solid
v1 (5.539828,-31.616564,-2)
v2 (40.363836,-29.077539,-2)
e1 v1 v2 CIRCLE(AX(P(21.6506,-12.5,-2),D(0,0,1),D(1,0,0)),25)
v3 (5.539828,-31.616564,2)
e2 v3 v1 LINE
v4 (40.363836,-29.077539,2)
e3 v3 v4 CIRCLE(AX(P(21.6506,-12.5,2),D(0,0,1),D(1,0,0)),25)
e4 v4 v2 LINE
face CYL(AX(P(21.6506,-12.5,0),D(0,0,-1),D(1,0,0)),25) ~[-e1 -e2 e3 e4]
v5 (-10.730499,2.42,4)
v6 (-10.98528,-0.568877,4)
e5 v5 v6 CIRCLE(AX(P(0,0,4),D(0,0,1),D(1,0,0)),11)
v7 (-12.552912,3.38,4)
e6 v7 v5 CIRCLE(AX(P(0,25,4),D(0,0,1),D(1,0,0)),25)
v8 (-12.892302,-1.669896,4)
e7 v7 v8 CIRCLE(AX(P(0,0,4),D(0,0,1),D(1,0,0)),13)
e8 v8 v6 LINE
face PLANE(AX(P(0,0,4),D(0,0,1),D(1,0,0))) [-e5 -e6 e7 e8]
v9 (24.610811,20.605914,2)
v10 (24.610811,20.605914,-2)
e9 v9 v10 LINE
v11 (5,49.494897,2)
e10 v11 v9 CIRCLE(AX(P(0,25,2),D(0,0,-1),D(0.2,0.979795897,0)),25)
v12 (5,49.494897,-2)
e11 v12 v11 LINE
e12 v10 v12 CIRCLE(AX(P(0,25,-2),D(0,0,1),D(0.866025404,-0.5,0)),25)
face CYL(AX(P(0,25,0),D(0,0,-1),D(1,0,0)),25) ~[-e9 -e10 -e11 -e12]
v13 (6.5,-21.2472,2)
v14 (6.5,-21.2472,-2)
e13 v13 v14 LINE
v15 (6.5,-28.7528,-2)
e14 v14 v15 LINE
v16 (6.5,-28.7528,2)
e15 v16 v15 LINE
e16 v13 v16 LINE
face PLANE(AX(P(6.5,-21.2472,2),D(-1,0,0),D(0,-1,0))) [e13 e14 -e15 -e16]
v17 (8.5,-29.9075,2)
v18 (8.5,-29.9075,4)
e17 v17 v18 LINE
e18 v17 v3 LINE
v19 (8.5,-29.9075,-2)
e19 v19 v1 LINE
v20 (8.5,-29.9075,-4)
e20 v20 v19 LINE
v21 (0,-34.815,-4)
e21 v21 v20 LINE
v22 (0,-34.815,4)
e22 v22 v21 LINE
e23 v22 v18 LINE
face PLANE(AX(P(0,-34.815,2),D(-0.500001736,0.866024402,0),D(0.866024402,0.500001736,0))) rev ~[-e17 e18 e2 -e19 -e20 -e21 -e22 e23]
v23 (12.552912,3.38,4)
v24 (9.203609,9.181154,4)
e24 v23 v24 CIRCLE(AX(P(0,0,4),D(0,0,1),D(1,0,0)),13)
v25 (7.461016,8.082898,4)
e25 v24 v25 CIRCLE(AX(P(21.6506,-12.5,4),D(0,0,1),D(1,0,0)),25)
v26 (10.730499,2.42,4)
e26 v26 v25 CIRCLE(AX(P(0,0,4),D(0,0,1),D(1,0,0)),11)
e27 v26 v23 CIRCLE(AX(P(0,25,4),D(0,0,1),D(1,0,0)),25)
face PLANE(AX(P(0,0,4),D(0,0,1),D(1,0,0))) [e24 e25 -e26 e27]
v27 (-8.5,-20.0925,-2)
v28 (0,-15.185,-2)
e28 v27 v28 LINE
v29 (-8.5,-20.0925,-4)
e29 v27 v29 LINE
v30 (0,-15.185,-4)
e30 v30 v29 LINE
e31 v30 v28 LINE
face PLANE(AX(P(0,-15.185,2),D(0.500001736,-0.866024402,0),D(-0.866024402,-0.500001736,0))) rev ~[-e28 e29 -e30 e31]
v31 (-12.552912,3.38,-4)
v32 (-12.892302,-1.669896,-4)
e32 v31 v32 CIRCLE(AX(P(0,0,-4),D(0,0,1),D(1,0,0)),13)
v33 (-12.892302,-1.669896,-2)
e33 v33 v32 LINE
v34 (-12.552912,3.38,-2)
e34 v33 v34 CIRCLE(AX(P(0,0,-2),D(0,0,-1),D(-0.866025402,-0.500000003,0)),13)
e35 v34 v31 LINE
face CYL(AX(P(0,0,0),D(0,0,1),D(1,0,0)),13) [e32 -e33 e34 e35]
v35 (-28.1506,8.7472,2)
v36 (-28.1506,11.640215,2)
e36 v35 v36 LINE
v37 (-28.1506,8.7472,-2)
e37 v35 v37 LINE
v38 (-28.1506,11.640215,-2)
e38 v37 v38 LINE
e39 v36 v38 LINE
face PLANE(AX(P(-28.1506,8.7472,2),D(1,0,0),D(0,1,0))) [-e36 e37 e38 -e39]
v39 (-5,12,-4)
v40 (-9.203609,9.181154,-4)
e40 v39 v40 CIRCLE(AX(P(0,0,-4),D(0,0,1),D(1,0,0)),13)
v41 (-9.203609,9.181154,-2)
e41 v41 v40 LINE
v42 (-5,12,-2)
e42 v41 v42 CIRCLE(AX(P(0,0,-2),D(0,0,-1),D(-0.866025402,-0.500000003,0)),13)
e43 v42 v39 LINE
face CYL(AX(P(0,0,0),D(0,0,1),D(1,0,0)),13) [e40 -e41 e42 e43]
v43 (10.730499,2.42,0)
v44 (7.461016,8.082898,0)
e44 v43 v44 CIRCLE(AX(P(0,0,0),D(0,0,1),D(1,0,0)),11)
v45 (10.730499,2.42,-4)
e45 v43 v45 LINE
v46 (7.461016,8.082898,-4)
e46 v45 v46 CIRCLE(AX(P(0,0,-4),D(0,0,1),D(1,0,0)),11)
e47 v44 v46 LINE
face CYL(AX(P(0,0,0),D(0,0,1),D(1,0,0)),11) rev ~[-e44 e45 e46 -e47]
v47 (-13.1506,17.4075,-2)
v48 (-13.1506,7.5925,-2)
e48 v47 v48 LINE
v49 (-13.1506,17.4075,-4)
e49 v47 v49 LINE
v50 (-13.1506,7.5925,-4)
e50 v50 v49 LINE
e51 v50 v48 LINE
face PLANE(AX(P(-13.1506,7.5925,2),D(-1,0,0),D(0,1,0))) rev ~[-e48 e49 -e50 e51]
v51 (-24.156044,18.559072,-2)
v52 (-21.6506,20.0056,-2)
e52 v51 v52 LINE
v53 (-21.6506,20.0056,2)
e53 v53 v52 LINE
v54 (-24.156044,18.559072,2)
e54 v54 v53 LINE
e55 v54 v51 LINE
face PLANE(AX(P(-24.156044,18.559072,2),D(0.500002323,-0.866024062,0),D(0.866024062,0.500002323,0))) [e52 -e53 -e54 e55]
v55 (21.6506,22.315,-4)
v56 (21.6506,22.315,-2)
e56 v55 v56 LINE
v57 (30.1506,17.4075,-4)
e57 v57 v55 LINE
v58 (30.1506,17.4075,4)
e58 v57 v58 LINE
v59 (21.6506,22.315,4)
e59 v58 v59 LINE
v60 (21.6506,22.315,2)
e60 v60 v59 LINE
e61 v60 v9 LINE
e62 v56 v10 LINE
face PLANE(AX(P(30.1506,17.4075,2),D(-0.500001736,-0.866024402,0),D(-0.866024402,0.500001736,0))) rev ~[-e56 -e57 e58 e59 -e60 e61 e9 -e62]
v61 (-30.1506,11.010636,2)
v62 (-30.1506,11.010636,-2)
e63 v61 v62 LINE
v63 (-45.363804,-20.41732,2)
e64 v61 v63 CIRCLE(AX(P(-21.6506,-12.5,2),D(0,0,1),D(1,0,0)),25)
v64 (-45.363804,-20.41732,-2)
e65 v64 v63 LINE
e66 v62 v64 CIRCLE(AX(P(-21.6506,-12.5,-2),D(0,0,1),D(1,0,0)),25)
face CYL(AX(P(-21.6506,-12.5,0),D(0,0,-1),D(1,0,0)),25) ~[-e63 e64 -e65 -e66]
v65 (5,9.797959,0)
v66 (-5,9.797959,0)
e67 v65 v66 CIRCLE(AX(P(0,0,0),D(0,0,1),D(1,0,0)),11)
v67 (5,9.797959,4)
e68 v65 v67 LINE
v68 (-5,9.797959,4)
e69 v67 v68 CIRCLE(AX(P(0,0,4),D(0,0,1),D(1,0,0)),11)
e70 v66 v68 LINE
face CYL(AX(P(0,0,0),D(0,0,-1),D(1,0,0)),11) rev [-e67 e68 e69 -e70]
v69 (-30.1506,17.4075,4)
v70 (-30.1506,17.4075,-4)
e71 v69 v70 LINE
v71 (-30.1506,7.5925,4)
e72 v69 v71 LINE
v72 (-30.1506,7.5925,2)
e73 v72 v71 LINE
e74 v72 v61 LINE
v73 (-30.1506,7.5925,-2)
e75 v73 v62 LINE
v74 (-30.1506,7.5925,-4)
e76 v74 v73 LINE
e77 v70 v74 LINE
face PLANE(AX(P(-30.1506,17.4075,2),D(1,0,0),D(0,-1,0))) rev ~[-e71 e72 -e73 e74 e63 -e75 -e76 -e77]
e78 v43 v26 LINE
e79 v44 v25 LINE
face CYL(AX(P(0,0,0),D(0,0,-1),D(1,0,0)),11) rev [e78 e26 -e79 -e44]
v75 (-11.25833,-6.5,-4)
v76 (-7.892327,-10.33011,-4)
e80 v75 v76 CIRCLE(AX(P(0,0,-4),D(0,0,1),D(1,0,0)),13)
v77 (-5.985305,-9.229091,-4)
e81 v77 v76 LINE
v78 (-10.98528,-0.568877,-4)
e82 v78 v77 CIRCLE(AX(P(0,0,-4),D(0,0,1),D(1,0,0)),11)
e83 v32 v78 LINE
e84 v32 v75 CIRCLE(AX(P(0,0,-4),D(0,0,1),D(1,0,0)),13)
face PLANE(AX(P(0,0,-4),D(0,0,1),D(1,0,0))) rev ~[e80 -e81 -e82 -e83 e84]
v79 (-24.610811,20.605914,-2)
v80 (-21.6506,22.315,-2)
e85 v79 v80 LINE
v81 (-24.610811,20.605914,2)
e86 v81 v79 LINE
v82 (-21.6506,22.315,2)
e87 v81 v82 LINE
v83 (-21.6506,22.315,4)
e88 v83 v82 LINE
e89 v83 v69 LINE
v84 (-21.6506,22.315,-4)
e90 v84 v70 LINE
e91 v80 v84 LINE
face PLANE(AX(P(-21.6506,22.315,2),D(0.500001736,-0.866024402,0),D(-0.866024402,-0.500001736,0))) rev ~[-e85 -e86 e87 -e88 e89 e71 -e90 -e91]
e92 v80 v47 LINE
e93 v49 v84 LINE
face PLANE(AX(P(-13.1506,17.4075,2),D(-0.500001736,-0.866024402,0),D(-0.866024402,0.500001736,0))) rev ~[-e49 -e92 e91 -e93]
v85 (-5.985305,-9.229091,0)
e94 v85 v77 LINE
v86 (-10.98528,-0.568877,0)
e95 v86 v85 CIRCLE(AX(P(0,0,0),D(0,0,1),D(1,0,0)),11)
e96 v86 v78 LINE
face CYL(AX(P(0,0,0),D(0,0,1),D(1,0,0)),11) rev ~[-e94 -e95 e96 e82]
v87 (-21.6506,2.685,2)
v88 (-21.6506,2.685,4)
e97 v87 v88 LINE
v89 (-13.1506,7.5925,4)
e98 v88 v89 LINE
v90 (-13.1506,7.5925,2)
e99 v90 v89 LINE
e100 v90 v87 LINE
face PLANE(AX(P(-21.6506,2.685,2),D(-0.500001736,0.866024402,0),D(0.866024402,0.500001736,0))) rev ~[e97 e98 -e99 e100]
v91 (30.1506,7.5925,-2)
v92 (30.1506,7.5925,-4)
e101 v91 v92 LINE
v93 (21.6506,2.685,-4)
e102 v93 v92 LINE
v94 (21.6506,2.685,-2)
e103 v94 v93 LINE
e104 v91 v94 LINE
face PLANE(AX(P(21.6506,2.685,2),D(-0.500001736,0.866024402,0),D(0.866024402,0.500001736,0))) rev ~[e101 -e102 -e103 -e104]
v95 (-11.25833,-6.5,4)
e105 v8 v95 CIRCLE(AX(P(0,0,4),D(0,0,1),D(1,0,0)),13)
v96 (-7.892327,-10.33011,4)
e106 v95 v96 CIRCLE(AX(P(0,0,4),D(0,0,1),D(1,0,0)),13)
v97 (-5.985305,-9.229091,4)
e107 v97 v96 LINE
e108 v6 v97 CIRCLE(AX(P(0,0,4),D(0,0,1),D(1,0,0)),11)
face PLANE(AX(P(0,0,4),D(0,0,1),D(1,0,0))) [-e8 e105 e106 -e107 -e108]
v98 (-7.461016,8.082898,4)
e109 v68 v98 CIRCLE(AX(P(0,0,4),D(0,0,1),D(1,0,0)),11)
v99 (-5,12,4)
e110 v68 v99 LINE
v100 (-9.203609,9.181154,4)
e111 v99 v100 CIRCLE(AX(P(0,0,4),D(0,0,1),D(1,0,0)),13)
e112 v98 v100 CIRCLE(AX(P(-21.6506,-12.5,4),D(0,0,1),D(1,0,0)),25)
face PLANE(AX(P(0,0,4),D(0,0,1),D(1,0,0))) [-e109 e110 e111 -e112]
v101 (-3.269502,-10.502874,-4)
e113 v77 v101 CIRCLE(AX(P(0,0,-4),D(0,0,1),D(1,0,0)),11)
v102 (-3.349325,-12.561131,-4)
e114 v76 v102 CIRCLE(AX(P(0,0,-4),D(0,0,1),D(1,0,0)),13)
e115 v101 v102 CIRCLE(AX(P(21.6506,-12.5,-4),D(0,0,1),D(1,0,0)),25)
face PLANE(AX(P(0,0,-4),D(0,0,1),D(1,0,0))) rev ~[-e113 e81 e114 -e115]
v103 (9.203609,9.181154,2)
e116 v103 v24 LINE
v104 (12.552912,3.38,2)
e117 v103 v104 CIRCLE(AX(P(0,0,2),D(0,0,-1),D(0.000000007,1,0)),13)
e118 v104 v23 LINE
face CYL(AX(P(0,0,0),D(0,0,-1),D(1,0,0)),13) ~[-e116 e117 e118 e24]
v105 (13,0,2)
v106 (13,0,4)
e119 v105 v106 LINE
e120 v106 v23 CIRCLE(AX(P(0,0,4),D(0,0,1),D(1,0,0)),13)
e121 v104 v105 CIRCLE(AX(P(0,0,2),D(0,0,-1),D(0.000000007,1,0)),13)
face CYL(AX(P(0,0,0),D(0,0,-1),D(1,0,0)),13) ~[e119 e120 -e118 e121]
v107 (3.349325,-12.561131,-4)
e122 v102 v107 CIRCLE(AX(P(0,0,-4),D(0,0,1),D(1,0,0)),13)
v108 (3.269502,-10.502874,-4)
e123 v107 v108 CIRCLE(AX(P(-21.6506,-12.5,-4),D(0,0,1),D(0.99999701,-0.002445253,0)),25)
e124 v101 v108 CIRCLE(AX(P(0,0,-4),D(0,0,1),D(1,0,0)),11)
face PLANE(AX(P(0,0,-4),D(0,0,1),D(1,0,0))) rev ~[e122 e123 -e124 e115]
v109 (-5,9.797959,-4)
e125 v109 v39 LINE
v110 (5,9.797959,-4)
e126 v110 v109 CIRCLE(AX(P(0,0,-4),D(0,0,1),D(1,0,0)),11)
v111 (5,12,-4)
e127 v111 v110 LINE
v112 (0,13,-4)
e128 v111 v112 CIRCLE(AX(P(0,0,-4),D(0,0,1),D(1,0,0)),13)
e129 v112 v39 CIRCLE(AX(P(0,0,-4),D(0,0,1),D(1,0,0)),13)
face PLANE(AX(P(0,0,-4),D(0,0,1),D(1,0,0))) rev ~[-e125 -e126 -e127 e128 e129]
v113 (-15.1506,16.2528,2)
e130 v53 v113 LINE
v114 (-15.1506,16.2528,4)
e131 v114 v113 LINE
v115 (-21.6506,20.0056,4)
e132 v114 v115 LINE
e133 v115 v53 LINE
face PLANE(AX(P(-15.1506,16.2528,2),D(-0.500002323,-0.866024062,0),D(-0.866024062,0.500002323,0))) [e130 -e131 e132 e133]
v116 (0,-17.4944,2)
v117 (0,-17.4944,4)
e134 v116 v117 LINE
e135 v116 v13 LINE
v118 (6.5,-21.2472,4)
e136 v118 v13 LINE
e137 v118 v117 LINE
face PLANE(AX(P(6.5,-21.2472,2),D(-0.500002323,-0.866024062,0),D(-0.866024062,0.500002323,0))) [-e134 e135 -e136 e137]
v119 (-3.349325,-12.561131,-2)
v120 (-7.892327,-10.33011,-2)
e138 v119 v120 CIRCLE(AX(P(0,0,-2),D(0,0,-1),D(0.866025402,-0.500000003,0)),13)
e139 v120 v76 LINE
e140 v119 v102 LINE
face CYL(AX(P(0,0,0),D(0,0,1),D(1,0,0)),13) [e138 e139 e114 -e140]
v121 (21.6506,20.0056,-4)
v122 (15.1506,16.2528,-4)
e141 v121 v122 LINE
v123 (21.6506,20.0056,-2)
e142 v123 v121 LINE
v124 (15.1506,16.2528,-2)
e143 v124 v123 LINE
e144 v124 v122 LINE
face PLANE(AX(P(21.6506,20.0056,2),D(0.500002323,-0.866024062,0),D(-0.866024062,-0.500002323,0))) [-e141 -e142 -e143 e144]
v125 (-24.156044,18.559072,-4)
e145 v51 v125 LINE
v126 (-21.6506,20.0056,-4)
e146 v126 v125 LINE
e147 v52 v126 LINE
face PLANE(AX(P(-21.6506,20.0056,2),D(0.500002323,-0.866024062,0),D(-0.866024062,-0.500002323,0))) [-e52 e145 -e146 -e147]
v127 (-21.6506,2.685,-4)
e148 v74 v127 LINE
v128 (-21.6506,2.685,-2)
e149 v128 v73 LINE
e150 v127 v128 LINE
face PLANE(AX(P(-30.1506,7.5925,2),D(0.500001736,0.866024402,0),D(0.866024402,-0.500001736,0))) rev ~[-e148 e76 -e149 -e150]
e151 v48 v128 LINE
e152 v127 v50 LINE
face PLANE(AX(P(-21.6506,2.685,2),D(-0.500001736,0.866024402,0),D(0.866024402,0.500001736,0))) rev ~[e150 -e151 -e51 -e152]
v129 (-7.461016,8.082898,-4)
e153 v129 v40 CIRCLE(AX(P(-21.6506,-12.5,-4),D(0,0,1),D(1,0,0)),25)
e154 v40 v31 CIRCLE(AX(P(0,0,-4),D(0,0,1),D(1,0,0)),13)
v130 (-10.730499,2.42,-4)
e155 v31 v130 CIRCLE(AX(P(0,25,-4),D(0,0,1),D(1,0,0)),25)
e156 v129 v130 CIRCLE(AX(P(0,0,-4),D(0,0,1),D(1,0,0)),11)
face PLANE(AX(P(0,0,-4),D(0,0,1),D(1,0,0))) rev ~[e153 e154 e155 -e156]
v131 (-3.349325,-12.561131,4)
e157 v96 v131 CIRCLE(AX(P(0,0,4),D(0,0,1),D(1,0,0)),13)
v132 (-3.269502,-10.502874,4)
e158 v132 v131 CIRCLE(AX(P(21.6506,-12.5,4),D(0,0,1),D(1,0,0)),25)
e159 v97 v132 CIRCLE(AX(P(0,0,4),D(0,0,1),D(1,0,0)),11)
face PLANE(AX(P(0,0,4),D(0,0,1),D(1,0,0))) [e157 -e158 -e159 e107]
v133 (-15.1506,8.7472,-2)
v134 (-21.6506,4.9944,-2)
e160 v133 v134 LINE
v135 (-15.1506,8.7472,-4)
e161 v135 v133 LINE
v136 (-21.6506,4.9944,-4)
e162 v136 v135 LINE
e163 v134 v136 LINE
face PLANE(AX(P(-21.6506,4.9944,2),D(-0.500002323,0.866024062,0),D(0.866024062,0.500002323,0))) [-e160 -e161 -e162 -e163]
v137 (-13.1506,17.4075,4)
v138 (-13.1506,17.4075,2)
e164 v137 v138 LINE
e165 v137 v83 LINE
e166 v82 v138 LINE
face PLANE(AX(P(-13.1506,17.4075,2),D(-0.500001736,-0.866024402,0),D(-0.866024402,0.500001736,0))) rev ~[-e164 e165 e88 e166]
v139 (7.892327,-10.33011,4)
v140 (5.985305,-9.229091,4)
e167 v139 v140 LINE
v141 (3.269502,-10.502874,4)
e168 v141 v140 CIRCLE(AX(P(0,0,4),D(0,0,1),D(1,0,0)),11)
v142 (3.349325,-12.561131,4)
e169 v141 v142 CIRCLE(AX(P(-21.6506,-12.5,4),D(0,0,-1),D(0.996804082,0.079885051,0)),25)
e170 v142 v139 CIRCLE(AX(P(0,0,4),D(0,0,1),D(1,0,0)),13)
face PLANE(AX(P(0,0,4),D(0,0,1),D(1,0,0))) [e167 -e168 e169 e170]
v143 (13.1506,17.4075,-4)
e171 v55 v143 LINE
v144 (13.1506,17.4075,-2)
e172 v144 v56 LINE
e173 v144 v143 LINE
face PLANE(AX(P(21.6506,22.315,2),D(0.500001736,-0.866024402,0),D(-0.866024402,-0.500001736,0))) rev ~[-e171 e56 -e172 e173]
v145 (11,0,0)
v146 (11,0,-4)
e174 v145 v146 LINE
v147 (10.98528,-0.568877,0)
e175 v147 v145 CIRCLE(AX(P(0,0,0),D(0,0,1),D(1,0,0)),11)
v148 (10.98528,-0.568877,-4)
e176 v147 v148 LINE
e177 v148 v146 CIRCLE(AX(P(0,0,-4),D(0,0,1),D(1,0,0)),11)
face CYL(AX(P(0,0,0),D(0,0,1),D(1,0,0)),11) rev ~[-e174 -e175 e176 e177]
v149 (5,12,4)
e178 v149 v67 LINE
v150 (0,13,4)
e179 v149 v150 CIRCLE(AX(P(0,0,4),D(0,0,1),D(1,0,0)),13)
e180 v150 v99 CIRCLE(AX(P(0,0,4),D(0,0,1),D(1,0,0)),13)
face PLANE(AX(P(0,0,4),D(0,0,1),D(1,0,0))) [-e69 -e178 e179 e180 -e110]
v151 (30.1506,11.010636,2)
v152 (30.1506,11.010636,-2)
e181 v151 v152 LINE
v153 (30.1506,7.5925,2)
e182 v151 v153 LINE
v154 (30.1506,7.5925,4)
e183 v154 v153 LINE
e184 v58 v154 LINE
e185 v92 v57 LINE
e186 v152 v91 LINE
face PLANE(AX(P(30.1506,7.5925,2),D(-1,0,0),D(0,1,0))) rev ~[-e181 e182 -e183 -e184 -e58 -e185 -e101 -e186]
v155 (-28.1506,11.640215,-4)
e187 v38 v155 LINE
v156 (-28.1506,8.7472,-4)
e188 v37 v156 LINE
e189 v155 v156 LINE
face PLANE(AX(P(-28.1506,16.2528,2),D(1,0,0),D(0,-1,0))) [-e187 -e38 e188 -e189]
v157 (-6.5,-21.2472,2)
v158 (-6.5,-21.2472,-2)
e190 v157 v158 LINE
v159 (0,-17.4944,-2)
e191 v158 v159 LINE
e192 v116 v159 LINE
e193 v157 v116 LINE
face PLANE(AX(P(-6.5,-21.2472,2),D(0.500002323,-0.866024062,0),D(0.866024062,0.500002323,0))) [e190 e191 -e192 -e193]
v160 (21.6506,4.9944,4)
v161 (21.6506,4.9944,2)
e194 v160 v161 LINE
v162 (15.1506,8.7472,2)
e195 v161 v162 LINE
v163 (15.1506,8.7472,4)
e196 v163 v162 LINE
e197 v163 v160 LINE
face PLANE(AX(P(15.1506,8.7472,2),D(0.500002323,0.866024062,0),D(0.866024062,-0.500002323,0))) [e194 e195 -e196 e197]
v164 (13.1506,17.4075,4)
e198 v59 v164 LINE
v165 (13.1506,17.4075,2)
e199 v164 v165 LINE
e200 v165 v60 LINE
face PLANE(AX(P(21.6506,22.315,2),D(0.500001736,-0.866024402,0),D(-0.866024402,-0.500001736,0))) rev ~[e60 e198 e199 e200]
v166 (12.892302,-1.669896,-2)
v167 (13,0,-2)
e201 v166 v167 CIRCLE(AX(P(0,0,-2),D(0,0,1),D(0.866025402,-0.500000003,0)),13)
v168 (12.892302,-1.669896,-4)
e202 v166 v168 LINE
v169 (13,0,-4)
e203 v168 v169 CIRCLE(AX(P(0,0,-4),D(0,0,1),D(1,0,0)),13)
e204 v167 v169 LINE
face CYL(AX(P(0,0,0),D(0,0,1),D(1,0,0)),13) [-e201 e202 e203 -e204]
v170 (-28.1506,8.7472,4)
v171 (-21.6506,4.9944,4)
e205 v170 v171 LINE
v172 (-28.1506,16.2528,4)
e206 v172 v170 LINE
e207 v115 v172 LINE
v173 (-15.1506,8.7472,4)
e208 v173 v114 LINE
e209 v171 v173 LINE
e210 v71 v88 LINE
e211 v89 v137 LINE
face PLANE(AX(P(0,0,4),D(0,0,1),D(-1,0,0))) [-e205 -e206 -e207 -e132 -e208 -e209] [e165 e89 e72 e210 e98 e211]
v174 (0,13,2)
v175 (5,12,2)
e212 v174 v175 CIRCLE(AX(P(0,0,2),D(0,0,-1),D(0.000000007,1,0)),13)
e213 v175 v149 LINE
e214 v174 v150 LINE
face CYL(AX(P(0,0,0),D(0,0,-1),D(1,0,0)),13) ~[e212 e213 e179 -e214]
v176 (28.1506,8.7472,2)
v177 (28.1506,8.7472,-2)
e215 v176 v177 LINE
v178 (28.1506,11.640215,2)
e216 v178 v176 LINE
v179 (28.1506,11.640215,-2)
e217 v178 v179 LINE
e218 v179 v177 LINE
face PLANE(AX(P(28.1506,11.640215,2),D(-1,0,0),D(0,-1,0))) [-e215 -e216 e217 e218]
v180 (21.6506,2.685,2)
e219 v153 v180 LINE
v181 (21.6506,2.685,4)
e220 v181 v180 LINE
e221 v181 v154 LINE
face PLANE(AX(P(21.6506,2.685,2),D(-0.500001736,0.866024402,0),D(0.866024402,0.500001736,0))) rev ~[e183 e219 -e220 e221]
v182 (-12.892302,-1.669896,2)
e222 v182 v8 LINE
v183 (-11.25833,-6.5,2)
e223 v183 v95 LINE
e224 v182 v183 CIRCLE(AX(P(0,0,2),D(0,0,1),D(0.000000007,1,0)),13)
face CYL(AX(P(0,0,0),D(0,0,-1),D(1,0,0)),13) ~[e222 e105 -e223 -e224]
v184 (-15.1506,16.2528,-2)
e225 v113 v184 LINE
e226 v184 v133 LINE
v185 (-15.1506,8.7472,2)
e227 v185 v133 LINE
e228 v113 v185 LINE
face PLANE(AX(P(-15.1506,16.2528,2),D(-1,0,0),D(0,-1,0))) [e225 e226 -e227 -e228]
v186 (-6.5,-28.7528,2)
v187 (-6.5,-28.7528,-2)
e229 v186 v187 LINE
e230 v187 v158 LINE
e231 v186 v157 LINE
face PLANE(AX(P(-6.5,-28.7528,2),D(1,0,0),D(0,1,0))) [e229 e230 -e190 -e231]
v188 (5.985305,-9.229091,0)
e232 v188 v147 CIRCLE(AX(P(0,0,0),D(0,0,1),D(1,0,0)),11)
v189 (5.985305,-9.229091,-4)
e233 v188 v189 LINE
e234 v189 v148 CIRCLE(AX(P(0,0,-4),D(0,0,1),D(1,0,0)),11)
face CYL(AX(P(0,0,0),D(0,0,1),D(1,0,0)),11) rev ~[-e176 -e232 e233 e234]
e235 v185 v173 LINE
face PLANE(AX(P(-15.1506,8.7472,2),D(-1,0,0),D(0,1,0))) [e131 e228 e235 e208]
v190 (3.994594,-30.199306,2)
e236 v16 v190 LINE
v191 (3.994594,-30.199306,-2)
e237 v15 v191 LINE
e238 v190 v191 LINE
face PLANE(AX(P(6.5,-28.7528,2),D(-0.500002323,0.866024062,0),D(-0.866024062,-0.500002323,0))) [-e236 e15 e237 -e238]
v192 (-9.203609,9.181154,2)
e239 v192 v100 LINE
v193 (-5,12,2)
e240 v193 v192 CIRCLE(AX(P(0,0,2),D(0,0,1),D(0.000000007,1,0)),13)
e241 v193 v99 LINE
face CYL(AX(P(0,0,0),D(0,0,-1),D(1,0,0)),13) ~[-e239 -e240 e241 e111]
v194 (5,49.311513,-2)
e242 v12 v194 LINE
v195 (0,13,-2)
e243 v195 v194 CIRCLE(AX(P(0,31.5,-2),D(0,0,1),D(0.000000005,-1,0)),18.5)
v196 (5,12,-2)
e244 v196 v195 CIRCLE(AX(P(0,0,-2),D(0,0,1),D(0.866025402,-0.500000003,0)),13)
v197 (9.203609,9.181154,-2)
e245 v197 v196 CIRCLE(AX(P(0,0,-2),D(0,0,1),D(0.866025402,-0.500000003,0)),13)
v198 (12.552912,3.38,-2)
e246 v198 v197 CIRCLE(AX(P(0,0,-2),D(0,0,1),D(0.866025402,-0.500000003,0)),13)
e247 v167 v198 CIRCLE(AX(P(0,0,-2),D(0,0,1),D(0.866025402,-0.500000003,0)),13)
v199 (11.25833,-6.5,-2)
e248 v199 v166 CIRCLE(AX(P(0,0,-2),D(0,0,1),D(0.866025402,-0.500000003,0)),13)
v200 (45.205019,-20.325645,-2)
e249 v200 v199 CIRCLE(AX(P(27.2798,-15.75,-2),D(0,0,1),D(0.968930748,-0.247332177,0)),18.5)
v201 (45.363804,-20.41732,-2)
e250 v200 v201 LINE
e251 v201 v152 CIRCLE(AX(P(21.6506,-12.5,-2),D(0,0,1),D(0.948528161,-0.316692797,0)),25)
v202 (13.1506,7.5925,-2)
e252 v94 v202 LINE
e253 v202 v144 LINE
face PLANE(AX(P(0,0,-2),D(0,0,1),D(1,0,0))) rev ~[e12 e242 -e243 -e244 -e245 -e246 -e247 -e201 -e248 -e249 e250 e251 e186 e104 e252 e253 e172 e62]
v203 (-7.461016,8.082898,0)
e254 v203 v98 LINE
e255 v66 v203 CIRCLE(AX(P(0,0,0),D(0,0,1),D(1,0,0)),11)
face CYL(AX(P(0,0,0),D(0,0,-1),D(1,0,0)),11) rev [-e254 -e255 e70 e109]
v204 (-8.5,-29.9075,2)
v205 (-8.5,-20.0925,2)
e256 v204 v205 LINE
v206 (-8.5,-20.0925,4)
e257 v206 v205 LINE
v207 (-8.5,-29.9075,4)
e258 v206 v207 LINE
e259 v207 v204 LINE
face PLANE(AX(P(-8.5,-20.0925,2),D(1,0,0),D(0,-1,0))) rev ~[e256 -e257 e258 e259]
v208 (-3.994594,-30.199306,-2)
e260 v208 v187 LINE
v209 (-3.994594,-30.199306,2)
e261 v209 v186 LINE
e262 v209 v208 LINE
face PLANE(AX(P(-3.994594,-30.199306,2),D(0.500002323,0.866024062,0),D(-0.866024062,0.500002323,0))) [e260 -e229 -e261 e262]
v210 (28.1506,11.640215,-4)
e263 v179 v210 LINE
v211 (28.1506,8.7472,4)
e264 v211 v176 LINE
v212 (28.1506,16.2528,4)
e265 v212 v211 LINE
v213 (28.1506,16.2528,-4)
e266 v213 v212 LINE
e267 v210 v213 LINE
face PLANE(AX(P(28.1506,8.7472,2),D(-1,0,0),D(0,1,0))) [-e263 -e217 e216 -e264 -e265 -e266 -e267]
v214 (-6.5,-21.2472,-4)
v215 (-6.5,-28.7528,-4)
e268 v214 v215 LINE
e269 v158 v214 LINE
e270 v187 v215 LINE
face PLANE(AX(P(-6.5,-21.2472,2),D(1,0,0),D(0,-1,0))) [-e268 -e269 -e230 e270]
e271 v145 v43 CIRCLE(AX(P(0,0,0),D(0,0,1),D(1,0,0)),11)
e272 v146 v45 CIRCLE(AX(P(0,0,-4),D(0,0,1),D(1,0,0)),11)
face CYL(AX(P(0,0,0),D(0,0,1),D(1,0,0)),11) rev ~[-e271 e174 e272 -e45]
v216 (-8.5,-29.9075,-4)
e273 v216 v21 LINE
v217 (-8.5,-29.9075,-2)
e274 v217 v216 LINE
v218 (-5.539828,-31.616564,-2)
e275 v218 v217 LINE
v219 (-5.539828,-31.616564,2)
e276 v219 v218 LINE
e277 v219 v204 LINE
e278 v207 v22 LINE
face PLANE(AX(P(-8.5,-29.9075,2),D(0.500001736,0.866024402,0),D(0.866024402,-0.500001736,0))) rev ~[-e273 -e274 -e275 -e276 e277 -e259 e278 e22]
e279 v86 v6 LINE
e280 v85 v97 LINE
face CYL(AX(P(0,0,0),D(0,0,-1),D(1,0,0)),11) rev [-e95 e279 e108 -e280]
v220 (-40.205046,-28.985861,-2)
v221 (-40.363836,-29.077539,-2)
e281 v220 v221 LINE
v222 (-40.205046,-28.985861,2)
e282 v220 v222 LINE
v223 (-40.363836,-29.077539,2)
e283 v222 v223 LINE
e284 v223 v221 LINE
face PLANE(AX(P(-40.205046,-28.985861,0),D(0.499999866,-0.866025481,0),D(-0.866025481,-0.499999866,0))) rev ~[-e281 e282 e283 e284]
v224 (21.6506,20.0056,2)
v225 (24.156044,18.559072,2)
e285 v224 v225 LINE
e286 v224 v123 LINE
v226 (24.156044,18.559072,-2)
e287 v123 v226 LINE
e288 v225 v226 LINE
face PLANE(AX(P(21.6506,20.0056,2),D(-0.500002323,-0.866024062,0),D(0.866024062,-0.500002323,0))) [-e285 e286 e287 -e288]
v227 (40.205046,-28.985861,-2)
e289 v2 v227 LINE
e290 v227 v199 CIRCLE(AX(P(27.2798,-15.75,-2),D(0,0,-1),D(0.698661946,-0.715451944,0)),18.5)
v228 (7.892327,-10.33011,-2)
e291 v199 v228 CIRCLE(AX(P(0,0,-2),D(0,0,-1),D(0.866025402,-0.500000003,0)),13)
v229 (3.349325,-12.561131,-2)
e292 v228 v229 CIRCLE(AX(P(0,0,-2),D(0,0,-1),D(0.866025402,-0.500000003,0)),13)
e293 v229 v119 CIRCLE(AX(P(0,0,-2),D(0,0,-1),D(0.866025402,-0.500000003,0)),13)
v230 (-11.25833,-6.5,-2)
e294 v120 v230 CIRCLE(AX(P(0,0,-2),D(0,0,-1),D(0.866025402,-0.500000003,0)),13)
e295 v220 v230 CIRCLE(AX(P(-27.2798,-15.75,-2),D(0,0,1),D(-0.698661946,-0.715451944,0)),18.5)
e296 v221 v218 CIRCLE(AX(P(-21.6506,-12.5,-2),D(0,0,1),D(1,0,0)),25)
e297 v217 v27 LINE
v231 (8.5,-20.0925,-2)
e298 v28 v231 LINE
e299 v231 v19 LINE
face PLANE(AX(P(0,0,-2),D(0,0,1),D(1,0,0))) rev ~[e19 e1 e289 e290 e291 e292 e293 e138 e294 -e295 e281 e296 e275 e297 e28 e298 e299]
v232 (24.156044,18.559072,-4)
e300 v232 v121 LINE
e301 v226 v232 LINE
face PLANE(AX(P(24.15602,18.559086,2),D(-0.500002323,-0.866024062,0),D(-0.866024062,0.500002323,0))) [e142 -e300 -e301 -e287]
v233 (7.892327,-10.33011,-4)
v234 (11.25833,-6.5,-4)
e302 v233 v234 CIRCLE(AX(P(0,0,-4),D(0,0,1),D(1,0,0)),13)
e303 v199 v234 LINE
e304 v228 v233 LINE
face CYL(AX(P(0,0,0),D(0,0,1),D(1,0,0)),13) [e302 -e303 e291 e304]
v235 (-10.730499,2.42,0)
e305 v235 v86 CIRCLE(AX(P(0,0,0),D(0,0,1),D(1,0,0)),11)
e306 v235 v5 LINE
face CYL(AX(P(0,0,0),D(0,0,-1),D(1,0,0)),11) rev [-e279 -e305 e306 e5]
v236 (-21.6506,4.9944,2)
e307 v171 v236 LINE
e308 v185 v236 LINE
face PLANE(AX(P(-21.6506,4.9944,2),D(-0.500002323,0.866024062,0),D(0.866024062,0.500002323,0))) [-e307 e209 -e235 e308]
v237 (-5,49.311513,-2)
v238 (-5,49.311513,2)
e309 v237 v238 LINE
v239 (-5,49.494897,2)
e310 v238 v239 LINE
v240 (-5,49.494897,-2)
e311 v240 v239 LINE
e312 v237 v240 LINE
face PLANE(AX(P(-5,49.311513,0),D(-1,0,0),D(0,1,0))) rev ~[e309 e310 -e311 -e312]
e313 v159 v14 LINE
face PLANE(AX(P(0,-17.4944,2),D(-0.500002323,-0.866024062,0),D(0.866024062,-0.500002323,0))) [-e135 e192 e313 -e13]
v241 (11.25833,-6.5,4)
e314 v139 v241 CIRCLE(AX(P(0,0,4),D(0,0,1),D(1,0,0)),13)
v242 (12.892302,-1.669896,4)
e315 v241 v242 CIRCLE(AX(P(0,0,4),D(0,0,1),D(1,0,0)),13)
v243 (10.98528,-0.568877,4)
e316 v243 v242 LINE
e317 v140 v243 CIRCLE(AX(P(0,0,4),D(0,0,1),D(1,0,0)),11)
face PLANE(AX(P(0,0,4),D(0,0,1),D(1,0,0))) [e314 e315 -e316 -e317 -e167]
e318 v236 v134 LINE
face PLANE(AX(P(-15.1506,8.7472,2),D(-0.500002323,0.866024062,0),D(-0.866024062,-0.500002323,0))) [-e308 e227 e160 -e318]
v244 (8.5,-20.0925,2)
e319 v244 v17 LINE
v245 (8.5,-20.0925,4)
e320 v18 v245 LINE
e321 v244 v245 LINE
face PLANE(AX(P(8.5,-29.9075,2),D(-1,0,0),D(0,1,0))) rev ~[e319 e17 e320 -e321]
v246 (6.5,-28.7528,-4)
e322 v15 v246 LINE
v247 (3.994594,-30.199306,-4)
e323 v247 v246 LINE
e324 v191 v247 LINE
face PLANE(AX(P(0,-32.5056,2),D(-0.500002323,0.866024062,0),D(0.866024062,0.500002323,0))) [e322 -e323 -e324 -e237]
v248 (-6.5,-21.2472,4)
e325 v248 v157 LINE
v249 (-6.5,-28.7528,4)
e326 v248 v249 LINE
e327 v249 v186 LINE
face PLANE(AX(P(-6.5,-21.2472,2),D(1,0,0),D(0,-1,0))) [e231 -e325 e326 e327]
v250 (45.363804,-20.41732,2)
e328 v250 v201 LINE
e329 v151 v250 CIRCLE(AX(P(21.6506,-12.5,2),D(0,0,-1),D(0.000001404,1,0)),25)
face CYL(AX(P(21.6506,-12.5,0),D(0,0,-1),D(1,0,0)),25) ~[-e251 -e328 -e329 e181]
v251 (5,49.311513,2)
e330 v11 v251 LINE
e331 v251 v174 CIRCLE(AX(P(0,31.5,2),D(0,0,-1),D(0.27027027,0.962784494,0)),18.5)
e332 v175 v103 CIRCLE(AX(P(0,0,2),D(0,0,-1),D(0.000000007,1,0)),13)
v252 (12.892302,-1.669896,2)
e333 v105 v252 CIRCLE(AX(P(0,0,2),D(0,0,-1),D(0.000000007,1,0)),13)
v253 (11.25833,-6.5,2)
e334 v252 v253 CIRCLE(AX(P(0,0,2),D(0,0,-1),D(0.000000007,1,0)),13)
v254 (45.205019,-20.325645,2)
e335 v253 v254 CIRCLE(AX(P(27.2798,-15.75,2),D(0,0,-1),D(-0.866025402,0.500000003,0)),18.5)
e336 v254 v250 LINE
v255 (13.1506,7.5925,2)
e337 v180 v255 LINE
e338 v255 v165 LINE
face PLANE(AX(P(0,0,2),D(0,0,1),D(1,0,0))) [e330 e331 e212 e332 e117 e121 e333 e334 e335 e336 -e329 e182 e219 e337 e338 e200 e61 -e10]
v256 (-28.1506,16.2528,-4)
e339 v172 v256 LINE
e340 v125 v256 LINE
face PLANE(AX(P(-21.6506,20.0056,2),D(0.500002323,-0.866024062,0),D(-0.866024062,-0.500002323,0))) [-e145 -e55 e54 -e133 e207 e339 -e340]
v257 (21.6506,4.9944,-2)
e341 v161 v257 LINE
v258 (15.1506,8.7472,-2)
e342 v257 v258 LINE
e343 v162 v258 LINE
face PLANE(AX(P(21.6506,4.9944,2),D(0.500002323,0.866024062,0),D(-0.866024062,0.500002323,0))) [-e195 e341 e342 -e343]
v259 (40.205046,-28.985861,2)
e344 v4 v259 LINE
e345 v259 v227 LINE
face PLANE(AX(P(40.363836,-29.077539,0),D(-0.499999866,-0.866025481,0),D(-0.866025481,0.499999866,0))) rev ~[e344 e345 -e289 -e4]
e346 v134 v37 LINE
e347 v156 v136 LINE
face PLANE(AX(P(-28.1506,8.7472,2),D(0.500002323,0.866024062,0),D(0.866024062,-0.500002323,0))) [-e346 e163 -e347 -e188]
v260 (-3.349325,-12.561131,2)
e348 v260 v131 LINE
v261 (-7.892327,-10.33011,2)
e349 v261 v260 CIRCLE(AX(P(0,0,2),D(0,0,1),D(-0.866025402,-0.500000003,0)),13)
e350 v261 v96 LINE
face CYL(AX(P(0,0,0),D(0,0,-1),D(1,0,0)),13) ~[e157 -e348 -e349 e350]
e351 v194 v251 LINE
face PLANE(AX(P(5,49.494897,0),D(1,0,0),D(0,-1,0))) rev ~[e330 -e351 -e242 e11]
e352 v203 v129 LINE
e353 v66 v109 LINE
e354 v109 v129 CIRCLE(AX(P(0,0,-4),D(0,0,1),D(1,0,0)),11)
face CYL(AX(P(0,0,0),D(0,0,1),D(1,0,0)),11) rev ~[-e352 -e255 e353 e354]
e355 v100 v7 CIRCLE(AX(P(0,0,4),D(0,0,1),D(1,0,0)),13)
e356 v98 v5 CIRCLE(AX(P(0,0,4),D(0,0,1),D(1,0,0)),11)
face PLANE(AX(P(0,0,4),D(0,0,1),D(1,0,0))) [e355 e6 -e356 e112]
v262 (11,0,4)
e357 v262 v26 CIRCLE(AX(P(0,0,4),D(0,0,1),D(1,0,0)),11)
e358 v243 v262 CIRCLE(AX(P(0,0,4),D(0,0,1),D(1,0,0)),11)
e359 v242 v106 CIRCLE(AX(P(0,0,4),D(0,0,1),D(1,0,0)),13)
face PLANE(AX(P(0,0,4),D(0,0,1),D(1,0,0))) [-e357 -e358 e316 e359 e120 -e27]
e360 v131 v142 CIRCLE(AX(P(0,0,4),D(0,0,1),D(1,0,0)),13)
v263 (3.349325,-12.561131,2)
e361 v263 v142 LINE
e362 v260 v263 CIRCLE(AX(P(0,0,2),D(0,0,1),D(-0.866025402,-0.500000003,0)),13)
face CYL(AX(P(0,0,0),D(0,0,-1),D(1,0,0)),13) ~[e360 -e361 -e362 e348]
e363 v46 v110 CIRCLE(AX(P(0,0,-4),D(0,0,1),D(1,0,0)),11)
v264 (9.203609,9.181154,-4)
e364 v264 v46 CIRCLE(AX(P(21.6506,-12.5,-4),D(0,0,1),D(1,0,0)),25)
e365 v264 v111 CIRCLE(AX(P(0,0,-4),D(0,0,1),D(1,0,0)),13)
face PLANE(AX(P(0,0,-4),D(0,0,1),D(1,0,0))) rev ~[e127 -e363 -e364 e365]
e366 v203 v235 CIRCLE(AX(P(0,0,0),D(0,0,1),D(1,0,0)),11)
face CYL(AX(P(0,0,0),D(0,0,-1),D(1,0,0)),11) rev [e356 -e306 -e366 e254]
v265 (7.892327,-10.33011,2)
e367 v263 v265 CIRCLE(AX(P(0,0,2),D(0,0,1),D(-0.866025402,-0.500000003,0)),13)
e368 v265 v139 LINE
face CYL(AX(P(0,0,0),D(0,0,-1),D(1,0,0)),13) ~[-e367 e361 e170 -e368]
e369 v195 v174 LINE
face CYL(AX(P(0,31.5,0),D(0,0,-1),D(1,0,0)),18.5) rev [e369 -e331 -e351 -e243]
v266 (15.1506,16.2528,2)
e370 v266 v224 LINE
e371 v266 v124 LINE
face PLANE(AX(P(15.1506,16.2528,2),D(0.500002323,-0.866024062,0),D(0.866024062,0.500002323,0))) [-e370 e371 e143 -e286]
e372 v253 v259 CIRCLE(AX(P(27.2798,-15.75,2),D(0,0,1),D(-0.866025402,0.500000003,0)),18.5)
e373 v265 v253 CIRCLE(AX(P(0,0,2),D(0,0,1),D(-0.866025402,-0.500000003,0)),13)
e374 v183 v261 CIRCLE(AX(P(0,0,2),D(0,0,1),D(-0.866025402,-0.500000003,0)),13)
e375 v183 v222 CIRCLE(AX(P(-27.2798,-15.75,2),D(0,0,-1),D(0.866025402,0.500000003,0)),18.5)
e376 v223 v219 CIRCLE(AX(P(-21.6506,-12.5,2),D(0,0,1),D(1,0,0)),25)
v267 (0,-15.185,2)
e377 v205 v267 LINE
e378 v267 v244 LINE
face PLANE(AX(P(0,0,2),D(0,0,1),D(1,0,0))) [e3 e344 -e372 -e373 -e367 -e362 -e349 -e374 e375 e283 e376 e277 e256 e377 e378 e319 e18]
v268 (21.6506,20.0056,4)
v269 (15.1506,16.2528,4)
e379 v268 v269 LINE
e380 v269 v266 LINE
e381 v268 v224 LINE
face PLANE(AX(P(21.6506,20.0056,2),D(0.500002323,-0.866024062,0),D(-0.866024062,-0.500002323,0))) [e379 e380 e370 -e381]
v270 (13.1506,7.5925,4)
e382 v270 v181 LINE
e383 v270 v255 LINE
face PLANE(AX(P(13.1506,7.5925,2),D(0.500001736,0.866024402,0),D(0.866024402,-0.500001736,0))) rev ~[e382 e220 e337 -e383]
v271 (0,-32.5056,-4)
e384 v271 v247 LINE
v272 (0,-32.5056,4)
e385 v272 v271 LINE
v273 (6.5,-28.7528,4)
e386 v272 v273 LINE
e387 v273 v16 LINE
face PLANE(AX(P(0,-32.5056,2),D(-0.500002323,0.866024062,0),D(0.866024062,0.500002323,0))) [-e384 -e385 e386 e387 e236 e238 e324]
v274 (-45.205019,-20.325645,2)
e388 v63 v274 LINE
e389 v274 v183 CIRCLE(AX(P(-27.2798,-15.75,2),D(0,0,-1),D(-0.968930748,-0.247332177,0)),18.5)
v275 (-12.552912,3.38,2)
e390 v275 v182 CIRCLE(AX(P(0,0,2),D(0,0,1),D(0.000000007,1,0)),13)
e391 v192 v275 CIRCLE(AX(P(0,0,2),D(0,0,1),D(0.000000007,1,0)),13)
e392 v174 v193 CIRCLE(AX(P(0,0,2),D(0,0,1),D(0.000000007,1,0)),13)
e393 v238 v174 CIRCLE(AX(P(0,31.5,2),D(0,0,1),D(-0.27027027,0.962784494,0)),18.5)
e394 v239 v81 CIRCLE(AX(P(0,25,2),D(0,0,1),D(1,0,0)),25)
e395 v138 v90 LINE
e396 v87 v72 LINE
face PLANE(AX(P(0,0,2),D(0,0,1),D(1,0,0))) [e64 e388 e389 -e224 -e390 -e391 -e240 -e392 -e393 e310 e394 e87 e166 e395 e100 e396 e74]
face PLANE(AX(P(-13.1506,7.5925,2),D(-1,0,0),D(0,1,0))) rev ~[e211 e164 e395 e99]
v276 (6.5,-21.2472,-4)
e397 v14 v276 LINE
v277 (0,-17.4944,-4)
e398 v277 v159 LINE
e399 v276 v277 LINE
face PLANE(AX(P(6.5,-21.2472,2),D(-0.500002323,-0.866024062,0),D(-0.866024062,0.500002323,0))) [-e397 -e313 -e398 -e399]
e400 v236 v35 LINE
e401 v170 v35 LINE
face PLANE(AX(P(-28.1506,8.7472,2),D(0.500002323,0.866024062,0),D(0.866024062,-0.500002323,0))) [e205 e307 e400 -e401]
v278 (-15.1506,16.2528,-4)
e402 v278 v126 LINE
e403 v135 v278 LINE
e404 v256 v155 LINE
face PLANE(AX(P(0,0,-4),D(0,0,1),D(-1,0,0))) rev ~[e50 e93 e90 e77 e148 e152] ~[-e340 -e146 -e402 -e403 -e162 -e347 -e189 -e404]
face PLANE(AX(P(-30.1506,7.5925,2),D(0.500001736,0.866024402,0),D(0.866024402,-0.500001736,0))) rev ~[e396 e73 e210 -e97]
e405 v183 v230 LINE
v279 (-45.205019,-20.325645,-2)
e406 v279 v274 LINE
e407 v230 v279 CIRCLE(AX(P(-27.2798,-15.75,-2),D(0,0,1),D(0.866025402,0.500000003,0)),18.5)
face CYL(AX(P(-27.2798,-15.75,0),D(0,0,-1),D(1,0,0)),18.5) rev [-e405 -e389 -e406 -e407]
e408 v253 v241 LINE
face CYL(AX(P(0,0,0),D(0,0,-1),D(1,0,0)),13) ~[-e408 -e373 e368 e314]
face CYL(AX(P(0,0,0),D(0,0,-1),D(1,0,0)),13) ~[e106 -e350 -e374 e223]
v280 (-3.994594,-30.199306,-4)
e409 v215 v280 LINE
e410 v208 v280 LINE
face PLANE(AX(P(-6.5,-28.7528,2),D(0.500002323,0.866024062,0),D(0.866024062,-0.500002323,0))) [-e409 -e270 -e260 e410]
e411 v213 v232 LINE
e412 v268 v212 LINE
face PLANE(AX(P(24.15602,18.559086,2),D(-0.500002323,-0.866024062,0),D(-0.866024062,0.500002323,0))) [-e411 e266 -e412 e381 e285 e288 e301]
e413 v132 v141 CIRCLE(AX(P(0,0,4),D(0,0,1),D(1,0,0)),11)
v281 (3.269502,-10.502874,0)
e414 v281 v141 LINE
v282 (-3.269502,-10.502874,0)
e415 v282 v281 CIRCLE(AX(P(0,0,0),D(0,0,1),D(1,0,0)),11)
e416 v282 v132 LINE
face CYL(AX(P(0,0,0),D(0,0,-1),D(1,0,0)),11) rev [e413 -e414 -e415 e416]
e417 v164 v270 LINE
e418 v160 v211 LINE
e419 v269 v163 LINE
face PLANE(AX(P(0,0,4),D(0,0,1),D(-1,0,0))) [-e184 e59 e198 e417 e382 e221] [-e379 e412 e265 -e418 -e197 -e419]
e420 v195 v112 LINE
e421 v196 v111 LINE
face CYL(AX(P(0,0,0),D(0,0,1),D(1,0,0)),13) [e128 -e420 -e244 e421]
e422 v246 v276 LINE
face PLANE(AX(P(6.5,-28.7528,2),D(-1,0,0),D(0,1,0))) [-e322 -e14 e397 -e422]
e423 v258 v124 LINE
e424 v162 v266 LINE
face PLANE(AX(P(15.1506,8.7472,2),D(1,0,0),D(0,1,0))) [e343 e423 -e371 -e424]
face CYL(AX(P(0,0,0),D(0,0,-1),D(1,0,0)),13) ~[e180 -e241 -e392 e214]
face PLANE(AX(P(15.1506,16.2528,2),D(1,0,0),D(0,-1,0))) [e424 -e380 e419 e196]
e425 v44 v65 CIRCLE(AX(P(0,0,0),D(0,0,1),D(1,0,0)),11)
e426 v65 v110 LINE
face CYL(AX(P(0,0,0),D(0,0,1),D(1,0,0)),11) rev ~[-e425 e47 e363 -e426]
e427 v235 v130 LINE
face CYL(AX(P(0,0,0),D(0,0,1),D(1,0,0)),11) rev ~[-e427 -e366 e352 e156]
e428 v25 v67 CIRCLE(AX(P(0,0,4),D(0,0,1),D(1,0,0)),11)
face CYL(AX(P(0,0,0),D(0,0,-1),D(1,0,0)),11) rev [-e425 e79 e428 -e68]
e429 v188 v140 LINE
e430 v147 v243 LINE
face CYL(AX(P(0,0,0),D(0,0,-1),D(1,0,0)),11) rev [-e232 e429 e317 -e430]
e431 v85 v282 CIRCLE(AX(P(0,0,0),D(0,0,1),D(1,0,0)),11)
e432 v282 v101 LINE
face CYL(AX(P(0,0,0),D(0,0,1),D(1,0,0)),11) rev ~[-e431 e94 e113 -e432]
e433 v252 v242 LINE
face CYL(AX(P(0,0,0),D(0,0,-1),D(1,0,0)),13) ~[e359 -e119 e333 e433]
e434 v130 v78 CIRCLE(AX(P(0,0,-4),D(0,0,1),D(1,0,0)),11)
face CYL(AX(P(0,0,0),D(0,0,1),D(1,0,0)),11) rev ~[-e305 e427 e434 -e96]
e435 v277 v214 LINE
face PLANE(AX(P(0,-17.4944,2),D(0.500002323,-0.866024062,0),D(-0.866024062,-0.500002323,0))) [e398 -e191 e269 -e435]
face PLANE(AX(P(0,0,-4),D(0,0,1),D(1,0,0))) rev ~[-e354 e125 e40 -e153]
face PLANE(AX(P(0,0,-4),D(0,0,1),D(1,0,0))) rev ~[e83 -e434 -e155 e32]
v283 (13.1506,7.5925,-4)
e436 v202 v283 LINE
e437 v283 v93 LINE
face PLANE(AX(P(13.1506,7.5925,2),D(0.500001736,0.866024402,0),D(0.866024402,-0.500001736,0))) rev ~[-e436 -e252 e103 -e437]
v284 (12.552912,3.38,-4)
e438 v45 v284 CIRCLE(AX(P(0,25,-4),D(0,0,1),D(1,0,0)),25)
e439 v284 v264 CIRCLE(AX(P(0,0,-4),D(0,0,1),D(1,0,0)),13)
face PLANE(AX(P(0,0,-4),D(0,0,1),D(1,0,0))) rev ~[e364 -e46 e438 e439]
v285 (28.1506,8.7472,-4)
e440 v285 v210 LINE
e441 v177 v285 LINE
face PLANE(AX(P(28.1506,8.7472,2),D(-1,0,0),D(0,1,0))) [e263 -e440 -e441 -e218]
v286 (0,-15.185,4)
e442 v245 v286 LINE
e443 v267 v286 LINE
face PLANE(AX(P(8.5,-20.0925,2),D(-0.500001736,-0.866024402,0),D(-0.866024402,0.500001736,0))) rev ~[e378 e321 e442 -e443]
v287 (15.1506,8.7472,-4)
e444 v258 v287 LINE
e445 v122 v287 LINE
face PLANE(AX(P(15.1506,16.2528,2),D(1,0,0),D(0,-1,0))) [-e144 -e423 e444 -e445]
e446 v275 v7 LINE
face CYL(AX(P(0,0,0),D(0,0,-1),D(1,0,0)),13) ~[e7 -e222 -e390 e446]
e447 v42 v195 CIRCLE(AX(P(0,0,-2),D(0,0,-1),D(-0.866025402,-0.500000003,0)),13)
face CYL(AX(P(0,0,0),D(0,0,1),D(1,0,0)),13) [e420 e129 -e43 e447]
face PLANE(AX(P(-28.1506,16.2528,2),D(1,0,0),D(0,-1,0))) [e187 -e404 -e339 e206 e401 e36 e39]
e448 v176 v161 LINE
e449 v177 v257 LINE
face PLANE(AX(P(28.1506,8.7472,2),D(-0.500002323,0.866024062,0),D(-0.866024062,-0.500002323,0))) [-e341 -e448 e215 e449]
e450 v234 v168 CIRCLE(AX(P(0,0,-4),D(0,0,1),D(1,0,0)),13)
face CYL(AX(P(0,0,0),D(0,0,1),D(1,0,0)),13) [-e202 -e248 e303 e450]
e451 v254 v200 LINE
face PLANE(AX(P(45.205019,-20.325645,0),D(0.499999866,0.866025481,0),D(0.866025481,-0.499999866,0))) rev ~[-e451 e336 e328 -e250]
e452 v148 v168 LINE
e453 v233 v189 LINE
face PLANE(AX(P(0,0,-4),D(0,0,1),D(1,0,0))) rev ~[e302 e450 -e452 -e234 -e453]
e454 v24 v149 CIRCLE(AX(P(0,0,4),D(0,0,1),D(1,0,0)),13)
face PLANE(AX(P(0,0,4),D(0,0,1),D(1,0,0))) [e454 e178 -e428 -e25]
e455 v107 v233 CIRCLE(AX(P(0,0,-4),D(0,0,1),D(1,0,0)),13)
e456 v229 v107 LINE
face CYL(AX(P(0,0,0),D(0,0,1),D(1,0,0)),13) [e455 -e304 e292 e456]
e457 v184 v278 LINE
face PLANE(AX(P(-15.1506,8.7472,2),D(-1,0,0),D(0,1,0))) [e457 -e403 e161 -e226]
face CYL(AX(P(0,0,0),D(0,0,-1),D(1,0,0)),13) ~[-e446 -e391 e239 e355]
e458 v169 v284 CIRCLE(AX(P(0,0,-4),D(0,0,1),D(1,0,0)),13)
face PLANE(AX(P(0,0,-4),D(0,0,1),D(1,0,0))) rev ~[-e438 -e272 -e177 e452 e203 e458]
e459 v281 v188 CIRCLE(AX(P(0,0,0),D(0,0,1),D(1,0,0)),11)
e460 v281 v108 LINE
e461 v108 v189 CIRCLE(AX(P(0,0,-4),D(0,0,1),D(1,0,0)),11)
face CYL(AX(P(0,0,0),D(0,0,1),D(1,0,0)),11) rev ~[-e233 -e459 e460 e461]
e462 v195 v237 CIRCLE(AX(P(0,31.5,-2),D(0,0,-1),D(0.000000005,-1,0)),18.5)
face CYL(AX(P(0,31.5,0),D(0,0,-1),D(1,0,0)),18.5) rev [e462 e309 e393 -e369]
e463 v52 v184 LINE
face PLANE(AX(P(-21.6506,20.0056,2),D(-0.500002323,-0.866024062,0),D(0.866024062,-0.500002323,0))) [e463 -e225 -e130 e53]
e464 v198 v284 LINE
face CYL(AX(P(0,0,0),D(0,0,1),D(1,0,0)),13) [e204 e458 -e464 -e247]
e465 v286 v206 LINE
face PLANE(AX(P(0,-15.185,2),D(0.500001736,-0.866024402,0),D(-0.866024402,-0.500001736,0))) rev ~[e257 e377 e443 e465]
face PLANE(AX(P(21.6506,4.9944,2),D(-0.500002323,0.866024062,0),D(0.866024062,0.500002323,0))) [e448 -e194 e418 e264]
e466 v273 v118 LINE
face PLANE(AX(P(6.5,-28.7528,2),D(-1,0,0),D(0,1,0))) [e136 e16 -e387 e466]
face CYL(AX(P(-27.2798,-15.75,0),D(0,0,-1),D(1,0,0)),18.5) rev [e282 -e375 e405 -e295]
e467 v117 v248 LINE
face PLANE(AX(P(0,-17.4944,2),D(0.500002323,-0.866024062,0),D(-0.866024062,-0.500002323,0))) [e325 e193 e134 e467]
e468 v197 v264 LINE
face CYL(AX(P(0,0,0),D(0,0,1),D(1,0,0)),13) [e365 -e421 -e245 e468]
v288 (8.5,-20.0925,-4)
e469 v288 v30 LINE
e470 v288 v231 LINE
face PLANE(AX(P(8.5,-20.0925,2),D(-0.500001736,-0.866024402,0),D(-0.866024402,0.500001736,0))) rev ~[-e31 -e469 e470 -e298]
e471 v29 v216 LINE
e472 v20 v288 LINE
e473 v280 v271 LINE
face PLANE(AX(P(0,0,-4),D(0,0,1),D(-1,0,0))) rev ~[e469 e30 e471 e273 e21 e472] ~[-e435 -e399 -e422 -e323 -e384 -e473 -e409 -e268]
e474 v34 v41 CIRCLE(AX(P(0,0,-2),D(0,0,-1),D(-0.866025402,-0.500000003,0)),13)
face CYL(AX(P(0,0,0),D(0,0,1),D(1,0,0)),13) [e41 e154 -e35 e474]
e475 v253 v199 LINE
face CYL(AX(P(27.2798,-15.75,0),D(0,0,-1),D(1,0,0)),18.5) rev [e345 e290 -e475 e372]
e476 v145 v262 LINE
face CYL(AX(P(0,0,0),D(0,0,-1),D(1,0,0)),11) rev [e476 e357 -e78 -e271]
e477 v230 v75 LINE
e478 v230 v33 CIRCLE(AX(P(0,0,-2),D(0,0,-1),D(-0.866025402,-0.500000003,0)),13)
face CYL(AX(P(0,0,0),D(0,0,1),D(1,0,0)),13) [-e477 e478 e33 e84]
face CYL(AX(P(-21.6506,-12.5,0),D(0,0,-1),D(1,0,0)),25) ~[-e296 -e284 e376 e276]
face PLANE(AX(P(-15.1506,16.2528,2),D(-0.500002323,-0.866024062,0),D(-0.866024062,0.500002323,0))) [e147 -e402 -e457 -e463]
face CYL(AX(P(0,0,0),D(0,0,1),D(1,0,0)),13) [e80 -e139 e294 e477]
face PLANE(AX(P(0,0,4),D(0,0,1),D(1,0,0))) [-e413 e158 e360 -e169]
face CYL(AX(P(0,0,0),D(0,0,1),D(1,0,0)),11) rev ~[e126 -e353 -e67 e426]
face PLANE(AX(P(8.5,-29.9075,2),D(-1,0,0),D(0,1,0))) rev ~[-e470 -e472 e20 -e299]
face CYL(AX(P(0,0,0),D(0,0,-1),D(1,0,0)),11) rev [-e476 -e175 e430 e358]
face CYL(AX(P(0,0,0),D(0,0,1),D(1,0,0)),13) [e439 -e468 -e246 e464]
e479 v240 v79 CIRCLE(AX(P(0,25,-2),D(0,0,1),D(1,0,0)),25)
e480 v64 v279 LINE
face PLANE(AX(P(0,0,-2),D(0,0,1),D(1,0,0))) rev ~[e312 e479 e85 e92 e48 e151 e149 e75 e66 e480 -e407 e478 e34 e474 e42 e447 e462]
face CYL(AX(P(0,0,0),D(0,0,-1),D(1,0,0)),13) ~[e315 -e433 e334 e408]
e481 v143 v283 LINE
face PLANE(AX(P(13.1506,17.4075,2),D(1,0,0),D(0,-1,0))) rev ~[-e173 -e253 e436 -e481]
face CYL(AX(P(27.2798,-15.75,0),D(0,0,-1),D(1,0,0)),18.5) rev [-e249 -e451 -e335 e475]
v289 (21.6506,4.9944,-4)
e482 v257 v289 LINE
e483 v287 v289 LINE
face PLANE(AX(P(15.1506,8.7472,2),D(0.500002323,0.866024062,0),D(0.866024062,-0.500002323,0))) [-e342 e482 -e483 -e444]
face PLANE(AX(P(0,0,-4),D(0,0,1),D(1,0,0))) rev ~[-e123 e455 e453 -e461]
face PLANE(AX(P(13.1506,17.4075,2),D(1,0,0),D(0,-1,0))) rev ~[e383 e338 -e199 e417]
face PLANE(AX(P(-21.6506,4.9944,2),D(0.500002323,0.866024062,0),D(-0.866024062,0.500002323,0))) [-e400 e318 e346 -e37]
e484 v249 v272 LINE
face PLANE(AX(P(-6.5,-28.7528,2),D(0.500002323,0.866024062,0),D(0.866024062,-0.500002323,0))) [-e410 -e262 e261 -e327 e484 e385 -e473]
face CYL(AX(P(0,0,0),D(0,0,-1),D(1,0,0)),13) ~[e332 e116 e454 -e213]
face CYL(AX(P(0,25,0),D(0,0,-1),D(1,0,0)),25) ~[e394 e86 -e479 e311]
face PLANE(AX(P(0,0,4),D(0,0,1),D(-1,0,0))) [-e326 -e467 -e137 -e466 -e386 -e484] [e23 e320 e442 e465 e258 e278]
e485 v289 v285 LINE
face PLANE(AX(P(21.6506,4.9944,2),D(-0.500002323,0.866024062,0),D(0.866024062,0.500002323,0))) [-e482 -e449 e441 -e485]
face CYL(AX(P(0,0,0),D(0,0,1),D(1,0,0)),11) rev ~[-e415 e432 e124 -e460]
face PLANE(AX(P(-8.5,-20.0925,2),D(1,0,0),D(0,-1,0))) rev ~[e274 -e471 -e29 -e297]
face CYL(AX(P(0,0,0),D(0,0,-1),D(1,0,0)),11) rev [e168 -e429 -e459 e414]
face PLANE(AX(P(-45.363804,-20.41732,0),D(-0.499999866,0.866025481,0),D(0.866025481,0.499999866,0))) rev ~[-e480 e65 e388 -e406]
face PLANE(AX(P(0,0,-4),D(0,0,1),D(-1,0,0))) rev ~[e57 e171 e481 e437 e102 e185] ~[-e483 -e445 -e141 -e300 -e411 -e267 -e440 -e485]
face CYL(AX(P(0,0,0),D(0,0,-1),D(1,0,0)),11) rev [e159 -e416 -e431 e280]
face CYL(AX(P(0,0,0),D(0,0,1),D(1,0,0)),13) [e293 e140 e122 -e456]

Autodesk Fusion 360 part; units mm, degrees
sketch "Sketch1" plane through (0, 0, 0) normal (0, 0, 1) x (1, 0, 0)
  circle A0 centre (0, 0) radius 50 construction
  line L0 (0, 103.6273) -> (0, -40.6273) construction
  circle A1 centre (0, 0) radius 11
  circle A2 centre (0, 0) radius 13
  circle A3 centre (0, 25) radius 25
  line L1 (-60, 0) -> (67.6208, 0) construction
  circle A4 centre (0, 31.5) radius 18.5
  line L2 (-5, 70) -> (5, 70)
  line L3 (5, 70) -> (5, 0)
  line L4 (5, 0) -> (-5, 0)
  line L5 (-5, 0) -> (-5, 70)
  circle A5 centre (-27.2798, -15.75) radius 18.5
  circle A6 centre (-21.6506, -12.5) radius 25
  line L6 (2.5, -4.3301) -> (-58.1218, -39.3301)
  line L7 (-63.1218, -30.6699) -> (-2.5, 4.3301)
  line L8 (-58.1218, -39.3301) -> (-63.1218, -30.6699)
  circle A7 centre (27.2798, -15.75) radius 18.5
  circle A8 centre (21.6506, -12.5) radius 25
  line L9 (2.5, 4.3301) -> (63.1218, -30.6699)
  line L10 (58.1218, -39.3301) -> (-2.5, -4.3301)
  line L11 (63.1218, -30.6699) -> (58.1218, -39.3301)
  point P0 (0, 50)
  dimension "d2" = 100
  dimension "d3" = 22
  dimension "d4" = 2
  dimension "d8" = 10
  dimension "d9" = 70
  dimension "d11" = 360
extrude "Extrude1" add sketch "Sketch1" along normal mid plane 8 contours A1 A2 A3 L9 | A1 A2 A3 A8 | A1 A2 L9 L10 | A1 A2 L3 A8 | A1 A2 A6 L10 | A1 A2 L3 L5 | A1 A2 A6 A8 | A1 A2 L5 A6 | A1 A2 L6 A8 | A1 A2 A3 A6 | A1 A2 L6 L7 | A1 A2 A3 L7
extrude "Extrude2" add sketch "Sketch1" along normal mid plane 4 contours A2 A3 A7 A8 L9 | A2 A3 A8 | A2 A7 L9 | A2 A3 A4 L3 A8 | A2 A6 A7 A8 L10 | A2 A7 L10 | A2 A4 L3 | A2 A6 A8 | A2 A4 L5 | A2 A3 A4 L5 A6 | A2 A5 A6 L6 A8 | A2 A3 A6 | A2 A5 L6 | A2 A3 A5 A6 L7 | A2 A5 L7
sketch "Sketch2" plane through (0, 0, 2) normal (0, 0, 1) x (-1, 0, 0)
  line L0 (-45.205, 20.3256) -> (-45.3638, 20.4173)
  arc A0 (-45.3638, 20.4173) -> (-21.6506, -12.5) centre (-21.6506, 12.5) ccw
  arc A1 (-21.6506, -12.5) -> (-5, -49.4949) centre (0, -25) ccw
  line L1 (-5, -49.4949) -> (-5, -49.3115)
  arc A2 (0, -13) -> (-5, -49.3115) centre (0, -31.5) ccw
  arc A3 (-11.2583, 6.5) -> (0, -13) centre (0, 0) ccw
  arc A4 (-45.205, 20.3256) -> (-11.2583, 6.5) centre (-27.2798, 15.75) ccw
  line L2 (0, 0) -> (-21.6506, -12.5) construction
  line L3 (-40.2014, -23.2103) -> (-21.6506, -12.5) construction
  line L4 (-28.1506, -8.7472) -> (-28.1506, -16.2528)
  line L5 (-28.1506, -16.2528) -> (-21.6506, -20.0056)
  line L6 (-21.6506, -20.0056) -> (-15.1506, -16.2528)
  line L7 (-15.1506, -16.2528) -> (-15.1506, -8.7472)
  line L8 (-15.1506, -8.7472) -> (-21.6506, -4.9944)
  line L9 (-21.6506, -4.9944) -> (-28.1506, -8.7472)
  line L10 (-13.1506, -7.5925) -> (-21.6506, -2.685)
  line L11 (-21.6506, -2.685) -> (-30.1506, -7.5925)
  line L12 (-30.1506, -7.5925) -> (-30.1506, -17.4075)
  line L13 (-30.1506, -17.4075) -> (-21.6506, -22.315)
  line L14 (-21.6506, -22.315) -> (-13.1506, -17.4075)
  line L15 (-13.1506, -17.4075) -> (-13.1506, -7.5925)
  line L16 (30.1506, -7.5925) -> (21.6506, -2.685)
  line L17 (13.1506, -17.4075) -> (21.6506, -22.315)
  line L18 (15.1506, -8.7472) -> (15.1506, -16.2528)
  line L19 (15.1506, -16.2528) -> (21.6506, -20.0056)
  line L20 (13.1506, -7.5925) -> (13.1506, -17.4075)
  line L21 (21.6506, -22.315) -> (30.1506, -17.4075)
  line L22 (21.6506, -20.0056) -> (28.1506, -16.2528)
  line L23 (28.1506, -16.2528) -> (28.1506, -8.7472)
  line L24 (30.1506, -17.4075) -> (30.1506, -7.5925)
  line L25 (28.1506, -8.7472) -> (21.6506, -4.9944)
  line L26 (21.6506, -2.685) -> (13.1506, -7.5925)
  line L27 (21.6506, -4.9944) -> (15.1506, -8.7472)
  line L28 (-8.5, 29.9075) -> (-8.5, 20.0925)
  line L29 (8.5, 20.0925) -> (8.5, 29.9075)
  line L30 (0, 17.4944) -> (6.5, 21.2472)
  line L31 (6.5, 21.2472) -> (6.5, 28.7528)
  line L32 (0, 15.185) -> (8.5, 20.0925)
  line L33 (8.5, 29.9075) -> (0, 34.815)
  line L34 (6.5, 28.7528) -> (0, 32.5056)
  line L35 (0, 32.5056) -> (-6.5, 28.7528)
  line L36 (0, 34.815) -> (-8.5, 29.9075)
  line L37 (-6.5, 28.7528) -> (-6.5, 21.2472)
  line L38 (-8.5, 20.0925) -> (0, 15.185)
  line L39 (-6.5, 21.2472) -> (0, 17.4944)
  point P0 (-21.6506, -12.5)
  point P1 (21.6506, -12.5)
  point P2 (21.6506, -12.5)
  point P3 (21.6506, -12.5)
  point P4 (0, 25)
  point P5 (0, 25)
  point P6 (0, 25)
  dimension "d16" = 6.5
  dimension "d17" = 2
  dimension "d19" = 360
extrude "Extrude3" add sketch "Sketch2" along normal blind 2 and the other way blind 6 contours A0 A1 L4 L5 L6 L7 L8 L9 L10 L11 L12 L13 L14 L15 | A0 A1 L4 L5 L12 L13 | L16 L17 L20 L21 L24 L26 | L28 L29 L32 L33 L36 L38
extrude "Extrude4" cut 3 faces at (-17.3173, 12.5, 2) (-2.1667, -21.2472, 2) (19.484, 8.7472, 2) along direction (0, 0, -1) blind 20
